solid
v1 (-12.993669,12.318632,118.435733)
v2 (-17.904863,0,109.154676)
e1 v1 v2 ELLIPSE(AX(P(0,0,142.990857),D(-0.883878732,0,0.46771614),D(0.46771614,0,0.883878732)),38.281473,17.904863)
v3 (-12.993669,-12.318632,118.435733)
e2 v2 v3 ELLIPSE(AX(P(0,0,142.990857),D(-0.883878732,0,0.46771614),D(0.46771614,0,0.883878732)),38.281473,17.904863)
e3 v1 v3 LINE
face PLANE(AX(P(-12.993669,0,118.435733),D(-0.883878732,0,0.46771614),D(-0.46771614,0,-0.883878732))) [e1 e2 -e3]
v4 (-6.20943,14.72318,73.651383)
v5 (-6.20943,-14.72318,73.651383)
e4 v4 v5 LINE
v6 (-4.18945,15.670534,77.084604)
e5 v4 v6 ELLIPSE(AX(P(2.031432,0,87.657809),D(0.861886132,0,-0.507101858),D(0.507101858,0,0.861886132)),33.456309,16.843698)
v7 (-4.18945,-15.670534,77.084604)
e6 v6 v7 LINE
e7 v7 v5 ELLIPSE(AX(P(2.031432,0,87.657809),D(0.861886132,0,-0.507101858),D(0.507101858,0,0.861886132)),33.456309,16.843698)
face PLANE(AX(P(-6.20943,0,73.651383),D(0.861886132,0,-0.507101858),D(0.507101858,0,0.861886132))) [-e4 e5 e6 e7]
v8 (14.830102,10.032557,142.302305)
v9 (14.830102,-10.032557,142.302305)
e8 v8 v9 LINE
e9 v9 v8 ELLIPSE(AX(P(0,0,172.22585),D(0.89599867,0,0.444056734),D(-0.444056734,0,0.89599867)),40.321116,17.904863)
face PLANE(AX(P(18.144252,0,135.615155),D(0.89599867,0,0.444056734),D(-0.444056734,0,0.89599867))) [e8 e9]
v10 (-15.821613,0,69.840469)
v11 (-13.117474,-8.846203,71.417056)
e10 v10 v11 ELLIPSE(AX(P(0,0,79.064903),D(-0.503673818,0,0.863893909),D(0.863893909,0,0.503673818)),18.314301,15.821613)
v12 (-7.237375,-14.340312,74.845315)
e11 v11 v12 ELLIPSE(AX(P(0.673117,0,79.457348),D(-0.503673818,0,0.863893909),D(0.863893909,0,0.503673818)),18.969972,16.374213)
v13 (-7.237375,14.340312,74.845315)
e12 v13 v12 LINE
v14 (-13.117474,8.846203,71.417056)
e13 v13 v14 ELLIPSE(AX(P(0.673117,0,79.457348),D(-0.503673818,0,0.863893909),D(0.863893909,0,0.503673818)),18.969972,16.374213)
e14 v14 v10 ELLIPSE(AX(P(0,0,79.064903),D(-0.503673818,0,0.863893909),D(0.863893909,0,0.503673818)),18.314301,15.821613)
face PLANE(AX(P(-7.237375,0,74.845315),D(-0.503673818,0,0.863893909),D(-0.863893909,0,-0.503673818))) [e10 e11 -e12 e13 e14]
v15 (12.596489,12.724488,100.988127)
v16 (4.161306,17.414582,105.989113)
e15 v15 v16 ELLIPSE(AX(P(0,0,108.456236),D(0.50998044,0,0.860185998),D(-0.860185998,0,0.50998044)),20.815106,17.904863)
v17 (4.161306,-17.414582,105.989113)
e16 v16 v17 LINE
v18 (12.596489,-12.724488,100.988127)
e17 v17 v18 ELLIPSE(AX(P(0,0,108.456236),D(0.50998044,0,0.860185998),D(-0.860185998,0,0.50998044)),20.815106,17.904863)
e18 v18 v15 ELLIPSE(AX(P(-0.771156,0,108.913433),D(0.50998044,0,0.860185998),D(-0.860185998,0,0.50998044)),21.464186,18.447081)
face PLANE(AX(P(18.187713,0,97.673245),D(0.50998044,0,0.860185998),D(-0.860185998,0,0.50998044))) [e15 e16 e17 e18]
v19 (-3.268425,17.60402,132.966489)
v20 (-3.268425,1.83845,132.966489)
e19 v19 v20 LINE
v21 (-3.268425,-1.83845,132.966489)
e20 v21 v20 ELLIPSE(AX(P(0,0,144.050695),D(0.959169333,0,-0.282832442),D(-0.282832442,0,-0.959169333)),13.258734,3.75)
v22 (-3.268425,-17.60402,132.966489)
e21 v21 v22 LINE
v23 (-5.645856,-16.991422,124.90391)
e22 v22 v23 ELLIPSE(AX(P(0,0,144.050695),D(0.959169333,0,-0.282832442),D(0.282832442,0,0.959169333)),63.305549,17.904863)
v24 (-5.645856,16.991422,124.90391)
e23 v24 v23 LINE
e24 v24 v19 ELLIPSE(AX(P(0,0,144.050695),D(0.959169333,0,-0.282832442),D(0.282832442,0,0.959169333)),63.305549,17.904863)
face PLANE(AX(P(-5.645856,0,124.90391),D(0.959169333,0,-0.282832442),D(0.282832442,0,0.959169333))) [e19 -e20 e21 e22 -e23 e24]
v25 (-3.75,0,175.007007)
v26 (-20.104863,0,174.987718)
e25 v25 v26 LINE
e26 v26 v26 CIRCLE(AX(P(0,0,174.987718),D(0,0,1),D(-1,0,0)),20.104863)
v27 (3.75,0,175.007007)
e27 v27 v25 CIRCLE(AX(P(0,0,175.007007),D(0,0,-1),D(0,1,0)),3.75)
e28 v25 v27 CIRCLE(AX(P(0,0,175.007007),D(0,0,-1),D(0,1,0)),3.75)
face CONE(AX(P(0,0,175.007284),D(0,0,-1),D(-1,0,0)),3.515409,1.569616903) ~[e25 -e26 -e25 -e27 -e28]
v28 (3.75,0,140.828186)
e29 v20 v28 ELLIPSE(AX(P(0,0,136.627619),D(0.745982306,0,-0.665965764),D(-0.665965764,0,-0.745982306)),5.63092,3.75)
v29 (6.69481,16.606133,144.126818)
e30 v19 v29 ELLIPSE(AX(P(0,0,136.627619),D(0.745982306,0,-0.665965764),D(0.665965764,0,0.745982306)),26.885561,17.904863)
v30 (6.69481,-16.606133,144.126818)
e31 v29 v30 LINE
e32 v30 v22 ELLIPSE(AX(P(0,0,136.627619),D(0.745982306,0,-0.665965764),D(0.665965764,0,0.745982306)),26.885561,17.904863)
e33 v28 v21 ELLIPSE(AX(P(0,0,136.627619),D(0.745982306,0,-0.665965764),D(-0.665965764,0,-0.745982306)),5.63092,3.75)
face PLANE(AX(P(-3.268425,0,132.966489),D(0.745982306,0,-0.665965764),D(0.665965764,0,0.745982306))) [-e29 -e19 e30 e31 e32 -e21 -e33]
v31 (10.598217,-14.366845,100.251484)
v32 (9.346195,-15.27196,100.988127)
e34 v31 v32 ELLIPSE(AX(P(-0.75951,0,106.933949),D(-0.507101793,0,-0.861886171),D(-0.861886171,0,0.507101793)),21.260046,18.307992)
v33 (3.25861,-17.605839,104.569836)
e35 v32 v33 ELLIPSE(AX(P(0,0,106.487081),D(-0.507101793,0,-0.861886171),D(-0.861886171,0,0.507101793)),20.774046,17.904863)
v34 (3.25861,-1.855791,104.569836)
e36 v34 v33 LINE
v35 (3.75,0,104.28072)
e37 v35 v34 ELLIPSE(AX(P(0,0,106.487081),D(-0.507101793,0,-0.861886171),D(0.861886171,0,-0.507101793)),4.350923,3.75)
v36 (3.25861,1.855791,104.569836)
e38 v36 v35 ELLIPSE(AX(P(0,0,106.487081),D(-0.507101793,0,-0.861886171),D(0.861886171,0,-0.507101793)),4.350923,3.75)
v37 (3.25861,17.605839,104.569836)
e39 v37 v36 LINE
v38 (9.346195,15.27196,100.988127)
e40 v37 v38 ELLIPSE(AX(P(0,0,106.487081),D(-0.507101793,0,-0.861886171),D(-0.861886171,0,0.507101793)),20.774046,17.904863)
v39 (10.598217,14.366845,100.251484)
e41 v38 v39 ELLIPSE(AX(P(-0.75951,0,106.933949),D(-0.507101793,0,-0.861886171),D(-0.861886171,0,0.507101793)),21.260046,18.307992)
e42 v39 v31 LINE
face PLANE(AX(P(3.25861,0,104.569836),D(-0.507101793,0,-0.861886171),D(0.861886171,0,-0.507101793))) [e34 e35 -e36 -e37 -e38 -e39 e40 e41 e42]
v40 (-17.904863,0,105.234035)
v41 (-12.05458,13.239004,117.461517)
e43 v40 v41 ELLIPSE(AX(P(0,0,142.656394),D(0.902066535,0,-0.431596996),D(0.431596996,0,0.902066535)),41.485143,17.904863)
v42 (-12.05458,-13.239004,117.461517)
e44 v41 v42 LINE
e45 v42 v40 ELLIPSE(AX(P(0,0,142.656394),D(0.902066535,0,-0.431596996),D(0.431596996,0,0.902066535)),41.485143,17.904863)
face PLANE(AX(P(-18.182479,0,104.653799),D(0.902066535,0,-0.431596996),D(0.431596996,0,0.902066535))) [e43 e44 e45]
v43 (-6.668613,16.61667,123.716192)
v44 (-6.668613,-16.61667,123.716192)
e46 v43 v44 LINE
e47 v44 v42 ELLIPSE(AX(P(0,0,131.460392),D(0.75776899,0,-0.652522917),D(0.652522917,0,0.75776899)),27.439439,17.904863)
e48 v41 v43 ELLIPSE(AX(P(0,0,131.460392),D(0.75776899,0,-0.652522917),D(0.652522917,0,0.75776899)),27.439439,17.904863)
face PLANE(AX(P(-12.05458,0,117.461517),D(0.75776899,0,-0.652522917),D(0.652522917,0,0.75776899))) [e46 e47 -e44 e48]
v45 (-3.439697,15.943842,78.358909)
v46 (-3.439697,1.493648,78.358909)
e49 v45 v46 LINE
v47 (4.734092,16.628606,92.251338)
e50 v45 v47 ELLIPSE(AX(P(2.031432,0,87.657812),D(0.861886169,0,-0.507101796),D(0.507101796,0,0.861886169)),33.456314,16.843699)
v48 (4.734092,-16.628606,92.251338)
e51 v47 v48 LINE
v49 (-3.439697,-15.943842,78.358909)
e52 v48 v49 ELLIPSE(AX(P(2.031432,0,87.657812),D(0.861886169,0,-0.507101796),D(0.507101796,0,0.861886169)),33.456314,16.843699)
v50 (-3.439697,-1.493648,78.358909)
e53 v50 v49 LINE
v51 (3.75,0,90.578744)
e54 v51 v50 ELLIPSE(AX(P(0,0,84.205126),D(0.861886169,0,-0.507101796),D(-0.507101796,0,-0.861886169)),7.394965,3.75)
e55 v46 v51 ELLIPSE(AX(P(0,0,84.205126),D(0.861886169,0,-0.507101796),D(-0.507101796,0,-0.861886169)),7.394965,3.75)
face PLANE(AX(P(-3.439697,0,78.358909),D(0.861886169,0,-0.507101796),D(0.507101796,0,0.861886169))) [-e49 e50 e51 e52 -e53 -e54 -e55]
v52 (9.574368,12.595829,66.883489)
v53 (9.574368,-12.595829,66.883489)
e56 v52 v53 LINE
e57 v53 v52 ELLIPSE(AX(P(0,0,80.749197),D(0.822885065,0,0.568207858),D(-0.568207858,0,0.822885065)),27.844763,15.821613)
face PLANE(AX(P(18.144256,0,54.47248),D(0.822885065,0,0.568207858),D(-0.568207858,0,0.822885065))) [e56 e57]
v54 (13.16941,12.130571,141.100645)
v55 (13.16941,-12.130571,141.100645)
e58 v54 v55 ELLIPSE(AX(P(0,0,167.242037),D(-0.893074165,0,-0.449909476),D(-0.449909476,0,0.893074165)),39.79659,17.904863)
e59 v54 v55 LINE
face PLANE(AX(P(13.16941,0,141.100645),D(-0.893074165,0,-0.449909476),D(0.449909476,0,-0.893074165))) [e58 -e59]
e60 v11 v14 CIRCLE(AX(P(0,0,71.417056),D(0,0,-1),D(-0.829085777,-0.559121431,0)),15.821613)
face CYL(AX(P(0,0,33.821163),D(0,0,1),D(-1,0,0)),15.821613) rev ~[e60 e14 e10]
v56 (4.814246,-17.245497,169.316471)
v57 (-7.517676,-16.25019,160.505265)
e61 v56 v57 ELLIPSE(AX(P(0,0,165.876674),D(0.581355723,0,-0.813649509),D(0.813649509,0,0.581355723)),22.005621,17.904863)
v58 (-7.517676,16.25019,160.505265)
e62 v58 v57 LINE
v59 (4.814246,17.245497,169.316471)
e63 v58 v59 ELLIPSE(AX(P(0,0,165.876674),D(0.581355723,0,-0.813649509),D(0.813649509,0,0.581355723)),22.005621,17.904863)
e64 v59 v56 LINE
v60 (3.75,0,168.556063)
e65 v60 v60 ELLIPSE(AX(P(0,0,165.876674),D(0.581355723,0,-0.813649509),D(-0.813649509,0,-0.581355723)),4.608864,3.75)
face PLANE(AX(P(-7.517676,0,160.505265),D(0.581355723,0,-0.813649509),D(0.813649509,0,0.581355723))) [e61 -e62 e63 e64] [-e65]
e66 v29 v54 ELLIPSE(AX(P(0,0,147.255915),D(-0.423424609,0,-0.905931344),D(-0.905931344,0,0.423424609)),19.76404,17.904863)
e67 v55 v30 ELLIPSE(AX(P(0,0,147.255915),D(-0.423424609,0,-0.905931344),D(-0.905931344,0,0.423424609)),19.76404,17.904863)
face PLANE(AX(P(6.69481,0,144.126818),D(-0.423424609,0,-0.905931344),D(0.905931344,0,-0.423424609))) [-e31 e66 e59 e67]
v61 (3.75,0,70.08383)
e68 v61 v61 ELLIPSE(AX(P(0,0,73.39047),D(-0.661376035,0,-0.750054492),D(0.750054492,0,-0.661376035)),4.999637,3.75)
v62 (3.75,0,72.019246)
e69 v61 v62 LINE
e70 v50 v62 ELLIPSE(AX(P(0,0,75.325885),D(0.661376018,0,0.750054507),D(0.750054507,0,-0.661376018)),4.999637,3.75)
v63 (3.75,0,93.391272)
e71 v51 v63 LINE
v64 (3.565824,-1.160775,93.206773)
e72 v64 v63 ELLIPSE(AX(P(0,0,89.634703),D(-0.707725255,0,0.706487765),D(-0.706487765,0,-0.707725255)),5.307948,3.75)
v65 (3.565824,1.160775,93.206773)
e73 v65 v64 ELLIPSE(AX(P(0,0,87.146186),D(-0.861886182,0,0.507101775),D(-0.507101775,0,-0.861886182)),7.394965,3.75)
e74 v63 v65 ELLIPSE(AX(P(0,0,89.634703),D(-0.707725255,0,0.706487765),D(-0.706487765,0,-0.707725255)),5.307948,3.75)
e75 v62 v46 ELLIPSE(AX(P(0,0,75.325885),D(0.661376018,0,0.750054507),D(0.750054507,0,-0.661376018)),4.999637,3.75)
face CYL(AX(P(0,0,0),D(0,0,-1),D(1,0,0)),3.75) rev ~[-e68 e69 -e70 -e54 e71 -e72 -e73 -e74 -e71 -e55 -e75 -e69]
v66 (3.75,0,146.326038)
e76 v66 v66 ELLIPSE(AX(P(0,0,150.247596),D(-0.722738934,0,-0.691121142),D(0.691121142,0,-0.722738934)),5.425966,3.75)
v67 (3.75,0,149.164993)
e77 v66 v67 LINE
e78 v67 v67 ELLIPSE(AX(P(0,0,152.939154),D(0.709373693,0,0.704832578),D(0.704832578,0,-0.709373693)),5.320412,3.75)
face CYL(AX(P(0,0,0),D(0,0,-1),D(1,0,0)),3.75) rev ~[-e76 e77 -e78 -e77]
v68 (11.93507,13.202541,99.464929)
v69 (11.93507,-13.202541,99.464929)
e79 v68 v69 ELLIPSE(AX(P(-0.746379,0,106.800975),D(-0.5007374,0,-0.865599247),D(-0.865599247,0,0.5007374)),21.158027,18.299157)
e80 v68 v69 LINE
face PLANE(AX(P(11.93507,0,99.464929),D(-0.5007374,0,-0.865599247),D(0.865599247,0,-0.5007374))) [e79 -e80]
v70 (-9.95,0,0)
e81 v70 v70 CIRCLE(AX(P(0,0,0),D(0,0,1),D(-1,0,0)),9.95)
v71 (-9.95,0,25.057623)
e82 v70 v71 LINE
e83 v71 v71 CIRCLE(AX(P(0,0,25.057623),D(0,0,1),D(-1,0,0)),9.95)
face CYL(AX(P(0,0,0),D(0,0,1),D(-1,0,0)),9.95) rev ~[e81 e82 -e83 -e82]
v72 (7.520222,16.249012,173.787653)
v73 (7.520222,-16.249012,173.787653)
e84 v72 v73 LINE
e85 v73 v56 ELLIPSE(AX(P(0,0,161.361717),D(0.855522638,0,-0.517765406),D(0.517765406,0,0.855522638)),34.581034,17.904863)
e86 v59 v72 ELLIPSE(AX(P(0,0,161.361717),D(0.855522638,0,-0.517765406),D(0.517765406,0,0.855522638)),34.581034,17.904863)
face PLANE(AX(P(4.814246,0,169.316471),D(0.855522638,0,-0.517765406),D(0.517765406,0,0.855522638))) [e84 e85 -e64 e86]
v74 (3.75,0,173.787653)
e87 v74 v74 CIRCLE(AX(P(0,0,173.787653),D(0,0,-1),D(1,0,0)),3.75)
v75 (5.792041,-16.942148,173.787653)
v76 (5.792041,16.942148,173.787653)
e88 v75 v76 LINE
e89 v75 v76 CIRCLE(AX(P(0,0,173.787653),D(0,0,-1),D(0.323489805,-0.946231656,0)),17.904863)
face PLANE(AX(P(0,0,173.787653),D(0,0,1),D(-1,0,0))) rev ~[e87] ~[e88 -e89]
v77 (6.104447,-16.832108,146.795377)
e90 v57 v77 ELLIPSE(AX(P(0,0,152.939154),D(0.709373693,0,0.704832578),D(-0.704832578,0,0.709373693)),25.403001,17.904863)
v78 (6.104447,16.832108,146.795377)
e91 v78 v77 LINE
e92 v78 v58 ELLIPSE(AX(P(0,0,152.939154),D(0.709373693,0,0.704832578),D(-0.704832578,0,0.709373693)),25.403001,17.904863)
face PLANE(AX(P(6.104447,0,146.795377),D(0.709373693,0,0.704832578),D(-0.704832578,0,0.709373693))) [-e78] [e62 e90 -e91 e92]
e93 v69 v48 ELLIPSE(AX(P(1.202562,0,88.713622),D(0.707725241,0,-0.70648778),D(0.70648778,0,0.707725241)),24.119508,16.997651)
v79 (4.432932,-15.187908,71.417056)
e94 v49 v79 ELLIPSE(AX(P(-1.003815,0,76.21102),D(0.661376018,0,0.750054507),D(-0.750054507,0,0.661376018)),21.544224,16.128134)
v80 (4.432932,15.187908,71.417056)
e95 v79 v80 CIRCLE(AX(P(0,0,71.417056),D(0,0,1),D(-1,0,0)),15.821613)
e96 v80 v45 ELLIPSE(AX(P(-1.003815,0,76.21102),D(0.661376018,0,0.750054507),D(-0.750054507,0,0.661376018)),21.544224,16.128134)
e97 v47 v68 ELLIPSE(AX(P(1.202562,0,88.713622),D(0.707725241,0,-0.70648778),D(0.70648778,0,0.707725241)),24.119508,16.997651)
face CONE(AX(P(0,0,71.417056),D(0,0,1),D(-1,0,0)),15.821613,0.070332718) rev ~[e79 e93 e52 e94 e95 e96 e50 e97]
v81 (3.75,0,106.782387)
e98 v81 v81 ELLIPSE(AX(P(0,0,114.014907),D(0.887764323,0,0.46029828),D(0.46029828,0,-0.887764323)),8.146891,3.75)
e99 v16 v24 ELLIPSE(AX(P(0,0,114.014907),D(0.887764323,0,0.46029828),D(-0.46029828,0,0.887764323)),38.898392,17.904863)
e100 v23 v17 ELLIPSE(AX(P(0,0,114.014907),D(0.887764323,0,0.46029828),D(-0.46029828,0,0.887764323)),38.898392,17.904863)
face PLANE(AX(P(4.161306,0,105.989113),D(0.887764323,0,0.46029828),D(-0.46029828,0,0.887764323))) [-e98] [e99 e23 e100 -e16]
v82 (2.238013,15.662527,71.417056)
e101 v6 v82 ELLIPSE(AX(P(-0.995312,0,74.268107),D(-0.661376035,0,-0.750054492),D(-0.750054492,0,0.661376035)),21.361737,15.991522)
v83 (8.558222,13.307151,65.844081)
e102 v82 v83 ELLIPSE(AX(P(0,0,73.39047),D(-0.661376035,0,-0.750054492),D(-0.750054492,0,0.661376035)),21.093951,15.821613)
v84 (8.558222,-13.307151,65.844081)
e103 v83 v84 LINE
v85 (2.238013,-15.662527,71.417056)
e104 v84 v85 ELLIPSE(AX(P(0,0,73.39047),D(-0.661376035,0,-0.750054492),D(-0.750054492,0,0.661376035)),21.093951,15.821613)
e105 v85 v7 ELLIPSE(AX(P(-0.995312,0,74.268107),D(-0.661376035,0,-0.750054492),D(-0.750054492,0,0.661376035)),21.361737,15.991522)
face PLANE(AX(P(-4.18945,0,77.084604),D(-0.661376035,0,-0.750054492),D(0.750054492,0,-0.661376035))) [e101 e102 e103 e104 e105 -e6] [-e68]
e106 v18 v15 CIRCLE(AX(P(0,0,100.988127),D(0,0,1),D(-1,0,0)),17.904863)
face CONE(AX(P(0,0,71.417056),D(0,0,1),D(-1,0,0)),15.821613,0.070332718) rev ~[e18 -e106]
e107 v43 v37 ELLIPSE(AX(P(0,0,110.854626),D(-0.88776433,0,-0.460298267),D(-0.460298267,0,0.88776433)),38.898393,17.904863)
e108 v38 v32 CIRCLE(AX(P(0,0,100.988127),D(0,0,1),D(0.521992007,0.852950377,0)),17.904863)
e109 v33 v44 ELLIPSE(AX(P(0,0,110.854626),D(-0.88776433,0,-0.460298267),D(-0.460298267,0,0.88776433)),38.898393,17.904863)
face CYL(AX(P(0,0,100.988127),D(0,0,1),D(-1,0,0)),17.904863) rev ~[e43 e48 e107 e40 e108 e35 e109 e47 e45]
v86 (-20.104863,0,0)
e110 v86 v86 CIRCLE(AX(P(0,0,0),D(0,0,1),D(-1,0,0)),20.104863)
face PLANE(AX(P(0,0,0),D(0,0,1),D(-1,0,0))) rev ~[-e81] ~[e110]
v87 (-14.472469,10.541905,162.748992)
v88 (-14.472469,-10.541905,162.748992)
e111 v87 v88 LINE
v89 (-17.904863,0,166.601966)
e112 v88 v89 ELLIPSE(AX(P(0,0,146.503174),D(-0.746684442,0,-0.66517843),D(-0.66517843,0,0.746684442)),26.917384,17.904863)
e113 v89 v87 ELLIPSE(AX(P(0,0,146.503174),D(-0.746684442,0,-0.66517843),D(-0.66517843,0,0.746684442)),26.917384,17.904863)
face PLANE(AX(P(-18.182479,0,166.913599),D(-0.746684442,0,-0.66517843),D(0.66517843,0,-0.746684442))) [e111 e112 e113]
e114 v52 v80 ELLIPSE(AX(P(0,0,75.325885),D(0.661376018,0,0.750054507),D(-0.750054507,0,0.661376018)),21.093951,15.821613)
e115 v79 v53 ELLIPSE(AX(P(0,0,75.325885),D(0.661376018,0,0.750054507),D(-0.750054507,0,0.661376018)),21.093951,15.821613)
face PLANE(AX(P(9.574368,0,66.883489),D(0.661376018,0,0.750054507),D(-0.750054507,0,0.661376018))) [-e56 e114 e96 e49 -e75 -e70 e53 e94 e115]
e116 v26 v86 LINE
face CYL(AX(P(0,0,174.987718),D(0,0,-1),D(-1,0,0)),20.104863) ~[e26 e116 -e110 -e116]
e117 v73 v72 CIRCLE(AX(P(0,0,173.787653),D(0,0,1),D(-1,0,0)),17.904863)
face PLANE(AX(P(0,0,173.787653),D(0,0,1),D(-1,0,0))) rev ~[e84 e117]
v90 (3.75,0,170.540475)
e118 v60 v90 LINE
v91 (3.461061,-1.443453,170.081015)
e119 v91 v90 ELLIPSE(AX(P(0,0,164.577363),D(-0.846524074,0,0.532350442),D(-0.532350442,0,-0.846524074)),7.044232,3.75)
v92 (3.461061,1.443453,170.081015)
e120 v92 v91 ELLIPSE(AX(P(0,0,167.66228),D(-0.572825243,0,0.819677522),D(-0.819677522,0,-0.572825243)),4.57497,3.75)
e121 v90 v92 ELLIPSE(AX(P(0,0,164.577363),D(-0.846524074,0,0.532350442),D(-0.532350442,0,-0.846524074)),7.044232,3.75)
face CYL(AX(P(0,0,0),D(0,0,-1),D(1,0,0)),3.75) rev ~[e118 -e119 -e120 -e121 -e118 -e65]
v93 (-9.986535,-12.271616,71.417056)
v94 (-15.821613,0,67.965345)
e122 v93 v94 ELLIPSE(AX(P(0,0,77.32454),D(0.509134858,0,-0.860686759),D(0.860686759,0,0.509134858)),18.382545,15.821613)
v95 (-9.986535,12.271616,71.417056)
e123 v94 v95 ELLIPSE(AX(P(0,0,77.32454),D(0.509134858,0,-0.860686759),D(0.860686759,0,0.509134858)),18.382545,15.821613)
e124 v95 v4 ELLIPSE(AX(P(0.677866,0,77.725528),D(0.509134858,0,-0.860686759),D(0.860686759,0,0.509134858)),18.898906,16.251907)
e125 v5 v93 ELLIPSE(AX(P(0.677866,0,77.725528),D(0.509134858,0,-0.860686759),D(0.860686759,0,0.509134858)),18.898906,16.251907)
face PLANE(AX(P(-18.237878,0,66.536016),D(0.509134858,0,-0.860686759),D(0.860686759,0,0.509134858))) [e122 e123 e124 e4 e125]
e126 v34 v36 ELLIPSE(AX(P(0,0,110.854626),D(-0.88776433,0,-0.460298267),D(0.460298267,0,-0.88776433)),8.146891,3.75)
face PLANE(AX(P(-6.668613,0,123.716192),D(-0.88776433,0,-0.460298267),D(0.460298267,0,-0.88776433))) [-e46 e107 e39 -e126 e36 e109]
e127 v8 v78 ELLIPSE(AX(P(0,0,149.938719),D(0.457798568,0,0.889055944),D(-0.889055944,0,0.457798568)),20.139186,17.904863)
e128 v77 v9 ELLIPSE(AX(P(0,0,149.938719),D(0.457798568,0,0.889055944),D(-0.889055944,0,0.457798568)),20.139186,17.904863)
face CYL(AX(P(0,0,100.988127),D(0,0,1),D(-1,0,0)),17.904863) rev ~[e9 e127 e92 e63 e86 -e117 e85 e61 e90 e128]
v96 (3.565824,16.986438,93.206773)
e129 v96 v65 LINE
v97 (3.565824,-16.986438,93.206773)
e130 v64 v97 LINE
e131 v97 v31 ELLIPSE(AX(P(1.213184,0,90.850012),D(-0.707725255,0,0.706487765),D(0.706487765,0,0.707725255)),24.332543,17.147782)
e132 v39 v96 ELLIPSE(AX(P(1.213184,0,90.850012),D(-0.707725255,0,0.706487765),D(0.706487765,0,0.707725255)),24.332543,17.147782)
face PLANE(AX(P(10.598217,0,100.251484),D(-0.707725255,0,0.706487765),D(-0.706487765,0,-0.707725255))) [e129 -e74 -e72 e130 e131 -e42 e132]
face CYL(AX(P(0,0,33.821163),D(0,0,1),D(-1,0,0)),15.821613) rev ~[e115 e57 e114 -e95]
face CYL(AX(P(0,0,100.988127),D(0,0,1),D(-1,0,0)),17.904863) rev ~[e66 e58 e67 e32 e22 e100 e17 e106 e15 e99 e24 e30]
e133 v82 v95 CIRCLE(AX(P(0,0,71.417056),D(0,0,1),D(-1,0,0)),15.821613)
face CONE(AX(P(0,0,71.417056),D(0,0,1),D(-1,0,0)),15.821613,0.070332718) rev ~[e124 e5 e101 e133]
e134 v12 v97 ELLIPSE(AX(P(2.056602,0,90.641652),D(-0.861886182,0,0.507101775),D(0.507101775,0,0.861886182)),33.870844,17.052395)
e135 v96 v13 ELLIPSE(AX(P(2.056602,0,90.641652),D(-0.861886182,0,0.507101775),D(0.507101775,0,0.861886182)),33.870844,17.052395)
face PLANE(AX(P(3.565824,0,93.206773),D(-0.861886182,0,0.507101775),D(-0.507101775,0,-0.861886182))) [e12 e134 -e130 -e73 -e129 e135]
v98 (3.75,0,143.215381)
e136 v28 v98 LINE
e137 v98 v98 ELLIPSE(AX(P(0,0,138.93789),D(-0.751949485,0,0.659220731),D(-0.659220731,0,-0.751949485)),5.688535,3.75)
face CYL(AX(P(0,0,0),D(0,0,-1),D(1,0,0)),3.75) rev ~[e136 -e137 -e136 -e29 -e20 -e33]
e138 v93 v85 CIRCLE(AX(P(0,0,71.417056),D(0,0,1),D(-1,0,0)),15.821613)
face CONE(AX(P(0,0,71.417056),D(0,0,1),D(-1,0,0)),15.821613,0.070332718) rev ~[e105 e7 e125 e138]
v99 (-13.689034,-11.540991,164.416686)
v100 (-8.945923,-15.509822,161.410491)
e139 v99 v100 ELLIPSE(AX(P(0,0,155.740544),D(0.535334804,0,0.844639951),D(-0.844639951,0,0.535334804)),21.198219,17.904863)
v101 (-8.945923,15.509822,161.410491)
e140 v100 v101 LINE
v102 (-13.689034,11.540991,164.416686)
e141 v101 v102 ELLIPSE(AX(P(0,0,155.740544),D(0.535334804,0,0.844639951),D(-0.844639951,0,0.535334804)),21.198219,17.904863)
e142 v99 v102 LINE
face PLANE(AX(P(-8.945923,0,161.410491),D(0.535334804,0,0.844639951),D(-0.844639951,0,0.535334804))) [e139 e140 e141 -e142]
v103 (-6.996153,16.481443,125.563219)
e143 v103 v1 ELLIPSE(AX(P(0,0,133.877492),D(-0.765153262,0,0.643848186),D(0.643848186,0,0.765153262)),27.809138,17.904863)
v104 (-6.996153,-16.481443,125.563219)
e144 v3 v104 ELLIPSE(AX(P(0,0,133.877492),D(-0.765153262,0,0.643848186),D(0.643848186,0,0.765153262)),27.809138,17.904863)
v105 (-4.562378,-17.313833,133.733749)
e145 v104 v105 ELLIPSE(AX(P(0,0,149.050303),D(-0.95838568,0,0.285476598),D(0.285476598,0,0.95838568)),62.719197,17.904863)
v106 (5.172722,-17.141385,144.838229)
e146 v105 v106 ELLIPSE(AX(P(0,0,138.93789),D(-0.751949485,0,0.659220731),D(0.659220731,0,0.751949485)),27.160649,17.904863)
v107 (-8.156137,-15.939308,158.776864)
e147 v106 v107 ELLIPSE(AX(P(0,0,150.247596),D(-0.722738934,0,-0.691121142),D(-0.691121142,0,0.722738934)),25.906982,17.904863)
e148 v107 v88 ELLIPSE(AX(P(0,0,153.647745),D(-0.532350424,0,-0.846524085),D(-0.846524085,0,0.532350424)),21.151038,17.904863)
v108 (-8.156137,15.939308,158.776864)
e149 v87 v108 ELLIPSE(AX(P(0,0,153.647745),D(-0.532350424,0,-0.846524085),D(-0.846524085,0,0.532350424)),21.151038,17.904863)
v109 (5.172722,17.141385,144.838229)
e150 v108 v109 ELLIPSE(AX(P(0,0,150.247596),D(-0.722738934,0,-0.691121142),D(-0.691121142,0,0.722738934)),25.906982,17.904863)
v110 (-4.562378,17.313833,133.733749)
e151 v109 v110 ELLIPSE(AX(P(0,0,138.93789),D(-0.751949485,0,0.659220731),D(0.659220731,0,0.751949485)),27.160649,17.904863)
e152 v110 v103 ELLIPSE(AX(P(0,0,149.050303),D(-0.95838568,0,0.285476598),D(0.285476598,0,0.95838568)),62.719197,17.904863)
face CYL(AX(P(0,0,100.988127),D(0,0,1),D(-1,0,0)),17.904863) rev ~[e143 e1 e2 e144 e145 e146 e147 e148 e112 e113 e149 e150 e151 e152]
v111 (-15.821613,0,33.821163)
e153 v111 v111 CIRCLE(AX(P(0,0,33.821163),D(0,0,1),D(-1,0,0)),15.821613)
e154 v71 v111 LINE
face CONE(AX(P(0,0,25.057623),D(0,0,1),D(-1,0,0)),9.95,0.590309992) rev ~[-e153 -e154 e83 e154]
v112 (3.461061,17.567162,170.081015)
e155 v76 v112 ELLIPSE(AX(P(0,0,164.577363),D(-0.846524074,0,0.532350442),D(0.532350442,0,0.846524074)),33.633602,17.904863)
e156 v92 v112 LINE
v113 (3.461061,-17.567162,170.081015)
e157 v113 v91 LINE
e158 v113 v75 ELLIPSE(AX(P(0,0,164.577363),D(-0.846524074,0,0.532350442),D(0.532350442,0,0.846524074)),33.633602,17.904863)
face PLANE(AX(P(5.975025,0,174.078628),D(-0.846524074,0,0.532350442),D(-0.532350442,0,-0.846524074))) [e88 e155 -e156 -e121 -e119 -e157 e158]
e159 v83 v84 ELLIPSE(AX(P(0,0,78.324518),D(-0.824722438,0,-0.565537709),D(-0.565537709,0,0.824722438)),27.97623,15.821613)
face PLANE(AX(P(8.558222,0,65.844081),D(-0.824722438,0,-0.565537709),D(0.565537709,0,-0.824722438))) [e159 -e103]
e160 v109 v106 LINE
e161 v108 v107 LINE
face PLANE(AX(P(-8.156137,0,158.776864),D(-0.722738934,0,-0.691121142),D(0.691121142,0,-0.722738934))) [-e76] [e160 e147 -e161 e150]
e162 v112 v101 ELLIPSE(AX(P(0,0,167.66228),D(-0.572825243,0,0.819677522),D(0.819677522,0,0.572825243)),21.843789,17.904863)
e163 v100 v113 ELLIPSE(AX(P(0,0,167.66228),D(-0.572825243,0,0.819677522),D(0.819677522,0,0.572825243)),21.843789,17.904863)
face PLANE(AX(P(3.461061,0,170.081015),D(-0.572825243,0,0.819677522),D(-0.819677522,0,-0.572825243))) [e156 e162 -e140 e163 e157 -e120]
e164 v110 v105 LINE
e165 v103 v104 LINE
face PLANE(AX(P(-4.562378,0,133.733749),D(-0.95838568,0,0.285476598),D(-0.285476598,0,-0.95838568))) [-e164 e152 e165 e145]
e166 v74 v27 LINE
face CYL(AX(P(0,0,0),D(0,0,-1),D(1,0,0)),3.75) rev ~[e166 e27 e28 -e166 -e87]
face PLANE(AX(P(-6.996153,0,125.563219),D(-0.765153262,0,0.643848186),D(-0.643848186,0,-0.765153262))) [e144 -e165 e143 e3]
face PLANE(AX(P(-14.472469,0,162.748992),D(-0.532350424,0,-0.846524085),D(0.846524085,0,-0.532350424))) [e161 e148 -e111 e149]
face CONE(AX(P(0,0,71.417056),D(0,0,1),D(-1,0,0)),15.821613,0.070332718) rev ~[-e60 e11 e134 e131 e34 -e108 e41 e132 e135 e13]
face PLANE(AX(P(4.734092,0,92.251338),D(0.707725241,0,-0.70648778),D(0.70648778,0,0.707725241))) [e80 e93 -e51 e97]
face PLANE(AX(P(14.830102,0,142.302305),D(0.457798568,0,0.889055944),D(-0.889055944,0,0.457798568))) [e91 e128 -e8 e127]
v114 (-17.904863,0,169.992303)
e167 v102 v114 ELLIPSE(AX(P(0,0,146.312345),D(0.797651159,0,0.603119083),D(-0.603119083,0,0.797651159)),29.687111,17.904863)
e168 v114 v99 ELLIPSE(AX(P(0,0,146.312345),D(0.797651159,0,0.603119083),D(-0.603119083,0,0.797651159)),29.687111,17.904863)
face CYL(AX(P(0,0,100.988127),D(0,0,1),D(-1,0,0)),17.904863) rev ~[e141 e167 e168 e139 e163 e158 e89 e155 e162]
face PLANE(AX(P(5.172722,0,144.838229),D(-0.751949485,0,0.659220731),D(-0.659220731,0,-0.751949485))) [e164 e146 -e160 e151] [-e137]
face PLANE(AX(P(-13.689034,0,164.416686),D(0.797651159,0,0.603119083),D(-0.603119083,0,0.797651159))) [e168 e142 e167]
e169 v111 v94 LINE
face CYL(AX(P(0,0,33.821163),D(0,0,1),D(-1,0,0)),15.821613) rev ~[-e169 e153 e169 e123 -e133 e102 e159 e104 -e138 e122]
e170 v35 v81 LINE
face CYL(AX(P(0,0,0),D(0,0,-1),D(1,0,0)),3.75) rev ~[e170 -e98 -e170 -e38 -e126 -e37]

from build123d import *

# Parameters (mm, degrees)
F3_DEPTH      = 25
F3_DEPTH_BACK = 25
F7_R          = 3.75
F8_DEPTH      = 175.008284


with BuildPart() as f3:
    # F1 (on Front) → F3 (new body, two sides)
    with BuildSketch(Plane.XZ) as f3_sk:
        Polygon((-13.689034, 164.416686), (-18.182479, 170.359462), (-18.182479, 166.913599), (-14.472469, 162.748992), (-8.156137, 158.776864), (5.172722, 144.838229), (-4.562378, 133.733749), (-6.996153, 125.563219), (-12.993669, 118.435733), (-18.100433, 108.785093), (-18.182479, 104.653799), (-12.05458, 117.461517), (-6.668613, 123.716192), (3.25861, 104.569836), (10.598217, 100.251484), (3.565824, 93.206773), (-7.237375, 74.845315), (-18.281374, 68.406361), (-18.237878, 66.536016), (-6.20943, 73.651383), (-4.18945, 77.084604), (8.558222, 65.844081), (18.144256, 51.864788), (18.144256, 54.47248), (9.574368, 66.883489), (-3.439697, 78.358909), (4.734092, 92.251338), (11.93507, 99.464929), (18.187713, 95.84786), (18.187713, 97.673245), (4.161306, 105.989113), (-5.645856, 124.90391), (-3.268425, 132.966489), (6.69481, 144.126818), (13.16941, 141.100645), (18.144252, 131.225541), (18.144252, 135.615155), (14.830102, 142.302305), (6.104447, 146.795377), (-7.517676, 160.505265), (4.814246, 169.316471), (7.670024, 174.035177), (5.975025, 174.078628), (3.461061, 170.081015), (-8.945923, 161.410491), align=None)
    extrude(amount=F3_DEPTH)
    extrude(f3_sk.sketch, amount=-F3_DEPTH_BACK)

    # F4 (on Front) → F5 (revolve, cut)
    with BuildSketch(Plane.XZ):
        Polygon((50.79839, 174.967825), (17.925017, 175.093472), (17.925017, -3.259191), (50.79839, -3.259191), align=None)
    revolve(axis=Axis((0, 0, 87.499648), (0, 0, 1)), mode=Mode.SUBTRACT)

    # F2 (on Front) → F6 (revolve)
    with BuildSketch(Plane.XZ):
        Polygon((-3.515409, 175.007284), (-20.104863, 174.987718), (-20.104863, 0), (-9.95, 0), (-9.95, 25.057623), (-15.821613, 33.821163), (-15.821613, 71.417056), (-17.904863, 100.988127), (-17.904863, 173.787653), (-3.515409, 173.787653), align=None)
    revolve(axis=Axis((0, 0, 12.804373), (0, 0, 1)))

    # F7 (on face) → F8 (cut, through all)
    with BuildSketch(Plane(origin=(0, 0, 0), x_dir=(1, 0, 0), z_dir=(0, 0, -1))):
        Circle(F7_R)
    extrude(amount=-F8_DEPTH, mode=Mode.SUBTRACT)


solid = f3.part
